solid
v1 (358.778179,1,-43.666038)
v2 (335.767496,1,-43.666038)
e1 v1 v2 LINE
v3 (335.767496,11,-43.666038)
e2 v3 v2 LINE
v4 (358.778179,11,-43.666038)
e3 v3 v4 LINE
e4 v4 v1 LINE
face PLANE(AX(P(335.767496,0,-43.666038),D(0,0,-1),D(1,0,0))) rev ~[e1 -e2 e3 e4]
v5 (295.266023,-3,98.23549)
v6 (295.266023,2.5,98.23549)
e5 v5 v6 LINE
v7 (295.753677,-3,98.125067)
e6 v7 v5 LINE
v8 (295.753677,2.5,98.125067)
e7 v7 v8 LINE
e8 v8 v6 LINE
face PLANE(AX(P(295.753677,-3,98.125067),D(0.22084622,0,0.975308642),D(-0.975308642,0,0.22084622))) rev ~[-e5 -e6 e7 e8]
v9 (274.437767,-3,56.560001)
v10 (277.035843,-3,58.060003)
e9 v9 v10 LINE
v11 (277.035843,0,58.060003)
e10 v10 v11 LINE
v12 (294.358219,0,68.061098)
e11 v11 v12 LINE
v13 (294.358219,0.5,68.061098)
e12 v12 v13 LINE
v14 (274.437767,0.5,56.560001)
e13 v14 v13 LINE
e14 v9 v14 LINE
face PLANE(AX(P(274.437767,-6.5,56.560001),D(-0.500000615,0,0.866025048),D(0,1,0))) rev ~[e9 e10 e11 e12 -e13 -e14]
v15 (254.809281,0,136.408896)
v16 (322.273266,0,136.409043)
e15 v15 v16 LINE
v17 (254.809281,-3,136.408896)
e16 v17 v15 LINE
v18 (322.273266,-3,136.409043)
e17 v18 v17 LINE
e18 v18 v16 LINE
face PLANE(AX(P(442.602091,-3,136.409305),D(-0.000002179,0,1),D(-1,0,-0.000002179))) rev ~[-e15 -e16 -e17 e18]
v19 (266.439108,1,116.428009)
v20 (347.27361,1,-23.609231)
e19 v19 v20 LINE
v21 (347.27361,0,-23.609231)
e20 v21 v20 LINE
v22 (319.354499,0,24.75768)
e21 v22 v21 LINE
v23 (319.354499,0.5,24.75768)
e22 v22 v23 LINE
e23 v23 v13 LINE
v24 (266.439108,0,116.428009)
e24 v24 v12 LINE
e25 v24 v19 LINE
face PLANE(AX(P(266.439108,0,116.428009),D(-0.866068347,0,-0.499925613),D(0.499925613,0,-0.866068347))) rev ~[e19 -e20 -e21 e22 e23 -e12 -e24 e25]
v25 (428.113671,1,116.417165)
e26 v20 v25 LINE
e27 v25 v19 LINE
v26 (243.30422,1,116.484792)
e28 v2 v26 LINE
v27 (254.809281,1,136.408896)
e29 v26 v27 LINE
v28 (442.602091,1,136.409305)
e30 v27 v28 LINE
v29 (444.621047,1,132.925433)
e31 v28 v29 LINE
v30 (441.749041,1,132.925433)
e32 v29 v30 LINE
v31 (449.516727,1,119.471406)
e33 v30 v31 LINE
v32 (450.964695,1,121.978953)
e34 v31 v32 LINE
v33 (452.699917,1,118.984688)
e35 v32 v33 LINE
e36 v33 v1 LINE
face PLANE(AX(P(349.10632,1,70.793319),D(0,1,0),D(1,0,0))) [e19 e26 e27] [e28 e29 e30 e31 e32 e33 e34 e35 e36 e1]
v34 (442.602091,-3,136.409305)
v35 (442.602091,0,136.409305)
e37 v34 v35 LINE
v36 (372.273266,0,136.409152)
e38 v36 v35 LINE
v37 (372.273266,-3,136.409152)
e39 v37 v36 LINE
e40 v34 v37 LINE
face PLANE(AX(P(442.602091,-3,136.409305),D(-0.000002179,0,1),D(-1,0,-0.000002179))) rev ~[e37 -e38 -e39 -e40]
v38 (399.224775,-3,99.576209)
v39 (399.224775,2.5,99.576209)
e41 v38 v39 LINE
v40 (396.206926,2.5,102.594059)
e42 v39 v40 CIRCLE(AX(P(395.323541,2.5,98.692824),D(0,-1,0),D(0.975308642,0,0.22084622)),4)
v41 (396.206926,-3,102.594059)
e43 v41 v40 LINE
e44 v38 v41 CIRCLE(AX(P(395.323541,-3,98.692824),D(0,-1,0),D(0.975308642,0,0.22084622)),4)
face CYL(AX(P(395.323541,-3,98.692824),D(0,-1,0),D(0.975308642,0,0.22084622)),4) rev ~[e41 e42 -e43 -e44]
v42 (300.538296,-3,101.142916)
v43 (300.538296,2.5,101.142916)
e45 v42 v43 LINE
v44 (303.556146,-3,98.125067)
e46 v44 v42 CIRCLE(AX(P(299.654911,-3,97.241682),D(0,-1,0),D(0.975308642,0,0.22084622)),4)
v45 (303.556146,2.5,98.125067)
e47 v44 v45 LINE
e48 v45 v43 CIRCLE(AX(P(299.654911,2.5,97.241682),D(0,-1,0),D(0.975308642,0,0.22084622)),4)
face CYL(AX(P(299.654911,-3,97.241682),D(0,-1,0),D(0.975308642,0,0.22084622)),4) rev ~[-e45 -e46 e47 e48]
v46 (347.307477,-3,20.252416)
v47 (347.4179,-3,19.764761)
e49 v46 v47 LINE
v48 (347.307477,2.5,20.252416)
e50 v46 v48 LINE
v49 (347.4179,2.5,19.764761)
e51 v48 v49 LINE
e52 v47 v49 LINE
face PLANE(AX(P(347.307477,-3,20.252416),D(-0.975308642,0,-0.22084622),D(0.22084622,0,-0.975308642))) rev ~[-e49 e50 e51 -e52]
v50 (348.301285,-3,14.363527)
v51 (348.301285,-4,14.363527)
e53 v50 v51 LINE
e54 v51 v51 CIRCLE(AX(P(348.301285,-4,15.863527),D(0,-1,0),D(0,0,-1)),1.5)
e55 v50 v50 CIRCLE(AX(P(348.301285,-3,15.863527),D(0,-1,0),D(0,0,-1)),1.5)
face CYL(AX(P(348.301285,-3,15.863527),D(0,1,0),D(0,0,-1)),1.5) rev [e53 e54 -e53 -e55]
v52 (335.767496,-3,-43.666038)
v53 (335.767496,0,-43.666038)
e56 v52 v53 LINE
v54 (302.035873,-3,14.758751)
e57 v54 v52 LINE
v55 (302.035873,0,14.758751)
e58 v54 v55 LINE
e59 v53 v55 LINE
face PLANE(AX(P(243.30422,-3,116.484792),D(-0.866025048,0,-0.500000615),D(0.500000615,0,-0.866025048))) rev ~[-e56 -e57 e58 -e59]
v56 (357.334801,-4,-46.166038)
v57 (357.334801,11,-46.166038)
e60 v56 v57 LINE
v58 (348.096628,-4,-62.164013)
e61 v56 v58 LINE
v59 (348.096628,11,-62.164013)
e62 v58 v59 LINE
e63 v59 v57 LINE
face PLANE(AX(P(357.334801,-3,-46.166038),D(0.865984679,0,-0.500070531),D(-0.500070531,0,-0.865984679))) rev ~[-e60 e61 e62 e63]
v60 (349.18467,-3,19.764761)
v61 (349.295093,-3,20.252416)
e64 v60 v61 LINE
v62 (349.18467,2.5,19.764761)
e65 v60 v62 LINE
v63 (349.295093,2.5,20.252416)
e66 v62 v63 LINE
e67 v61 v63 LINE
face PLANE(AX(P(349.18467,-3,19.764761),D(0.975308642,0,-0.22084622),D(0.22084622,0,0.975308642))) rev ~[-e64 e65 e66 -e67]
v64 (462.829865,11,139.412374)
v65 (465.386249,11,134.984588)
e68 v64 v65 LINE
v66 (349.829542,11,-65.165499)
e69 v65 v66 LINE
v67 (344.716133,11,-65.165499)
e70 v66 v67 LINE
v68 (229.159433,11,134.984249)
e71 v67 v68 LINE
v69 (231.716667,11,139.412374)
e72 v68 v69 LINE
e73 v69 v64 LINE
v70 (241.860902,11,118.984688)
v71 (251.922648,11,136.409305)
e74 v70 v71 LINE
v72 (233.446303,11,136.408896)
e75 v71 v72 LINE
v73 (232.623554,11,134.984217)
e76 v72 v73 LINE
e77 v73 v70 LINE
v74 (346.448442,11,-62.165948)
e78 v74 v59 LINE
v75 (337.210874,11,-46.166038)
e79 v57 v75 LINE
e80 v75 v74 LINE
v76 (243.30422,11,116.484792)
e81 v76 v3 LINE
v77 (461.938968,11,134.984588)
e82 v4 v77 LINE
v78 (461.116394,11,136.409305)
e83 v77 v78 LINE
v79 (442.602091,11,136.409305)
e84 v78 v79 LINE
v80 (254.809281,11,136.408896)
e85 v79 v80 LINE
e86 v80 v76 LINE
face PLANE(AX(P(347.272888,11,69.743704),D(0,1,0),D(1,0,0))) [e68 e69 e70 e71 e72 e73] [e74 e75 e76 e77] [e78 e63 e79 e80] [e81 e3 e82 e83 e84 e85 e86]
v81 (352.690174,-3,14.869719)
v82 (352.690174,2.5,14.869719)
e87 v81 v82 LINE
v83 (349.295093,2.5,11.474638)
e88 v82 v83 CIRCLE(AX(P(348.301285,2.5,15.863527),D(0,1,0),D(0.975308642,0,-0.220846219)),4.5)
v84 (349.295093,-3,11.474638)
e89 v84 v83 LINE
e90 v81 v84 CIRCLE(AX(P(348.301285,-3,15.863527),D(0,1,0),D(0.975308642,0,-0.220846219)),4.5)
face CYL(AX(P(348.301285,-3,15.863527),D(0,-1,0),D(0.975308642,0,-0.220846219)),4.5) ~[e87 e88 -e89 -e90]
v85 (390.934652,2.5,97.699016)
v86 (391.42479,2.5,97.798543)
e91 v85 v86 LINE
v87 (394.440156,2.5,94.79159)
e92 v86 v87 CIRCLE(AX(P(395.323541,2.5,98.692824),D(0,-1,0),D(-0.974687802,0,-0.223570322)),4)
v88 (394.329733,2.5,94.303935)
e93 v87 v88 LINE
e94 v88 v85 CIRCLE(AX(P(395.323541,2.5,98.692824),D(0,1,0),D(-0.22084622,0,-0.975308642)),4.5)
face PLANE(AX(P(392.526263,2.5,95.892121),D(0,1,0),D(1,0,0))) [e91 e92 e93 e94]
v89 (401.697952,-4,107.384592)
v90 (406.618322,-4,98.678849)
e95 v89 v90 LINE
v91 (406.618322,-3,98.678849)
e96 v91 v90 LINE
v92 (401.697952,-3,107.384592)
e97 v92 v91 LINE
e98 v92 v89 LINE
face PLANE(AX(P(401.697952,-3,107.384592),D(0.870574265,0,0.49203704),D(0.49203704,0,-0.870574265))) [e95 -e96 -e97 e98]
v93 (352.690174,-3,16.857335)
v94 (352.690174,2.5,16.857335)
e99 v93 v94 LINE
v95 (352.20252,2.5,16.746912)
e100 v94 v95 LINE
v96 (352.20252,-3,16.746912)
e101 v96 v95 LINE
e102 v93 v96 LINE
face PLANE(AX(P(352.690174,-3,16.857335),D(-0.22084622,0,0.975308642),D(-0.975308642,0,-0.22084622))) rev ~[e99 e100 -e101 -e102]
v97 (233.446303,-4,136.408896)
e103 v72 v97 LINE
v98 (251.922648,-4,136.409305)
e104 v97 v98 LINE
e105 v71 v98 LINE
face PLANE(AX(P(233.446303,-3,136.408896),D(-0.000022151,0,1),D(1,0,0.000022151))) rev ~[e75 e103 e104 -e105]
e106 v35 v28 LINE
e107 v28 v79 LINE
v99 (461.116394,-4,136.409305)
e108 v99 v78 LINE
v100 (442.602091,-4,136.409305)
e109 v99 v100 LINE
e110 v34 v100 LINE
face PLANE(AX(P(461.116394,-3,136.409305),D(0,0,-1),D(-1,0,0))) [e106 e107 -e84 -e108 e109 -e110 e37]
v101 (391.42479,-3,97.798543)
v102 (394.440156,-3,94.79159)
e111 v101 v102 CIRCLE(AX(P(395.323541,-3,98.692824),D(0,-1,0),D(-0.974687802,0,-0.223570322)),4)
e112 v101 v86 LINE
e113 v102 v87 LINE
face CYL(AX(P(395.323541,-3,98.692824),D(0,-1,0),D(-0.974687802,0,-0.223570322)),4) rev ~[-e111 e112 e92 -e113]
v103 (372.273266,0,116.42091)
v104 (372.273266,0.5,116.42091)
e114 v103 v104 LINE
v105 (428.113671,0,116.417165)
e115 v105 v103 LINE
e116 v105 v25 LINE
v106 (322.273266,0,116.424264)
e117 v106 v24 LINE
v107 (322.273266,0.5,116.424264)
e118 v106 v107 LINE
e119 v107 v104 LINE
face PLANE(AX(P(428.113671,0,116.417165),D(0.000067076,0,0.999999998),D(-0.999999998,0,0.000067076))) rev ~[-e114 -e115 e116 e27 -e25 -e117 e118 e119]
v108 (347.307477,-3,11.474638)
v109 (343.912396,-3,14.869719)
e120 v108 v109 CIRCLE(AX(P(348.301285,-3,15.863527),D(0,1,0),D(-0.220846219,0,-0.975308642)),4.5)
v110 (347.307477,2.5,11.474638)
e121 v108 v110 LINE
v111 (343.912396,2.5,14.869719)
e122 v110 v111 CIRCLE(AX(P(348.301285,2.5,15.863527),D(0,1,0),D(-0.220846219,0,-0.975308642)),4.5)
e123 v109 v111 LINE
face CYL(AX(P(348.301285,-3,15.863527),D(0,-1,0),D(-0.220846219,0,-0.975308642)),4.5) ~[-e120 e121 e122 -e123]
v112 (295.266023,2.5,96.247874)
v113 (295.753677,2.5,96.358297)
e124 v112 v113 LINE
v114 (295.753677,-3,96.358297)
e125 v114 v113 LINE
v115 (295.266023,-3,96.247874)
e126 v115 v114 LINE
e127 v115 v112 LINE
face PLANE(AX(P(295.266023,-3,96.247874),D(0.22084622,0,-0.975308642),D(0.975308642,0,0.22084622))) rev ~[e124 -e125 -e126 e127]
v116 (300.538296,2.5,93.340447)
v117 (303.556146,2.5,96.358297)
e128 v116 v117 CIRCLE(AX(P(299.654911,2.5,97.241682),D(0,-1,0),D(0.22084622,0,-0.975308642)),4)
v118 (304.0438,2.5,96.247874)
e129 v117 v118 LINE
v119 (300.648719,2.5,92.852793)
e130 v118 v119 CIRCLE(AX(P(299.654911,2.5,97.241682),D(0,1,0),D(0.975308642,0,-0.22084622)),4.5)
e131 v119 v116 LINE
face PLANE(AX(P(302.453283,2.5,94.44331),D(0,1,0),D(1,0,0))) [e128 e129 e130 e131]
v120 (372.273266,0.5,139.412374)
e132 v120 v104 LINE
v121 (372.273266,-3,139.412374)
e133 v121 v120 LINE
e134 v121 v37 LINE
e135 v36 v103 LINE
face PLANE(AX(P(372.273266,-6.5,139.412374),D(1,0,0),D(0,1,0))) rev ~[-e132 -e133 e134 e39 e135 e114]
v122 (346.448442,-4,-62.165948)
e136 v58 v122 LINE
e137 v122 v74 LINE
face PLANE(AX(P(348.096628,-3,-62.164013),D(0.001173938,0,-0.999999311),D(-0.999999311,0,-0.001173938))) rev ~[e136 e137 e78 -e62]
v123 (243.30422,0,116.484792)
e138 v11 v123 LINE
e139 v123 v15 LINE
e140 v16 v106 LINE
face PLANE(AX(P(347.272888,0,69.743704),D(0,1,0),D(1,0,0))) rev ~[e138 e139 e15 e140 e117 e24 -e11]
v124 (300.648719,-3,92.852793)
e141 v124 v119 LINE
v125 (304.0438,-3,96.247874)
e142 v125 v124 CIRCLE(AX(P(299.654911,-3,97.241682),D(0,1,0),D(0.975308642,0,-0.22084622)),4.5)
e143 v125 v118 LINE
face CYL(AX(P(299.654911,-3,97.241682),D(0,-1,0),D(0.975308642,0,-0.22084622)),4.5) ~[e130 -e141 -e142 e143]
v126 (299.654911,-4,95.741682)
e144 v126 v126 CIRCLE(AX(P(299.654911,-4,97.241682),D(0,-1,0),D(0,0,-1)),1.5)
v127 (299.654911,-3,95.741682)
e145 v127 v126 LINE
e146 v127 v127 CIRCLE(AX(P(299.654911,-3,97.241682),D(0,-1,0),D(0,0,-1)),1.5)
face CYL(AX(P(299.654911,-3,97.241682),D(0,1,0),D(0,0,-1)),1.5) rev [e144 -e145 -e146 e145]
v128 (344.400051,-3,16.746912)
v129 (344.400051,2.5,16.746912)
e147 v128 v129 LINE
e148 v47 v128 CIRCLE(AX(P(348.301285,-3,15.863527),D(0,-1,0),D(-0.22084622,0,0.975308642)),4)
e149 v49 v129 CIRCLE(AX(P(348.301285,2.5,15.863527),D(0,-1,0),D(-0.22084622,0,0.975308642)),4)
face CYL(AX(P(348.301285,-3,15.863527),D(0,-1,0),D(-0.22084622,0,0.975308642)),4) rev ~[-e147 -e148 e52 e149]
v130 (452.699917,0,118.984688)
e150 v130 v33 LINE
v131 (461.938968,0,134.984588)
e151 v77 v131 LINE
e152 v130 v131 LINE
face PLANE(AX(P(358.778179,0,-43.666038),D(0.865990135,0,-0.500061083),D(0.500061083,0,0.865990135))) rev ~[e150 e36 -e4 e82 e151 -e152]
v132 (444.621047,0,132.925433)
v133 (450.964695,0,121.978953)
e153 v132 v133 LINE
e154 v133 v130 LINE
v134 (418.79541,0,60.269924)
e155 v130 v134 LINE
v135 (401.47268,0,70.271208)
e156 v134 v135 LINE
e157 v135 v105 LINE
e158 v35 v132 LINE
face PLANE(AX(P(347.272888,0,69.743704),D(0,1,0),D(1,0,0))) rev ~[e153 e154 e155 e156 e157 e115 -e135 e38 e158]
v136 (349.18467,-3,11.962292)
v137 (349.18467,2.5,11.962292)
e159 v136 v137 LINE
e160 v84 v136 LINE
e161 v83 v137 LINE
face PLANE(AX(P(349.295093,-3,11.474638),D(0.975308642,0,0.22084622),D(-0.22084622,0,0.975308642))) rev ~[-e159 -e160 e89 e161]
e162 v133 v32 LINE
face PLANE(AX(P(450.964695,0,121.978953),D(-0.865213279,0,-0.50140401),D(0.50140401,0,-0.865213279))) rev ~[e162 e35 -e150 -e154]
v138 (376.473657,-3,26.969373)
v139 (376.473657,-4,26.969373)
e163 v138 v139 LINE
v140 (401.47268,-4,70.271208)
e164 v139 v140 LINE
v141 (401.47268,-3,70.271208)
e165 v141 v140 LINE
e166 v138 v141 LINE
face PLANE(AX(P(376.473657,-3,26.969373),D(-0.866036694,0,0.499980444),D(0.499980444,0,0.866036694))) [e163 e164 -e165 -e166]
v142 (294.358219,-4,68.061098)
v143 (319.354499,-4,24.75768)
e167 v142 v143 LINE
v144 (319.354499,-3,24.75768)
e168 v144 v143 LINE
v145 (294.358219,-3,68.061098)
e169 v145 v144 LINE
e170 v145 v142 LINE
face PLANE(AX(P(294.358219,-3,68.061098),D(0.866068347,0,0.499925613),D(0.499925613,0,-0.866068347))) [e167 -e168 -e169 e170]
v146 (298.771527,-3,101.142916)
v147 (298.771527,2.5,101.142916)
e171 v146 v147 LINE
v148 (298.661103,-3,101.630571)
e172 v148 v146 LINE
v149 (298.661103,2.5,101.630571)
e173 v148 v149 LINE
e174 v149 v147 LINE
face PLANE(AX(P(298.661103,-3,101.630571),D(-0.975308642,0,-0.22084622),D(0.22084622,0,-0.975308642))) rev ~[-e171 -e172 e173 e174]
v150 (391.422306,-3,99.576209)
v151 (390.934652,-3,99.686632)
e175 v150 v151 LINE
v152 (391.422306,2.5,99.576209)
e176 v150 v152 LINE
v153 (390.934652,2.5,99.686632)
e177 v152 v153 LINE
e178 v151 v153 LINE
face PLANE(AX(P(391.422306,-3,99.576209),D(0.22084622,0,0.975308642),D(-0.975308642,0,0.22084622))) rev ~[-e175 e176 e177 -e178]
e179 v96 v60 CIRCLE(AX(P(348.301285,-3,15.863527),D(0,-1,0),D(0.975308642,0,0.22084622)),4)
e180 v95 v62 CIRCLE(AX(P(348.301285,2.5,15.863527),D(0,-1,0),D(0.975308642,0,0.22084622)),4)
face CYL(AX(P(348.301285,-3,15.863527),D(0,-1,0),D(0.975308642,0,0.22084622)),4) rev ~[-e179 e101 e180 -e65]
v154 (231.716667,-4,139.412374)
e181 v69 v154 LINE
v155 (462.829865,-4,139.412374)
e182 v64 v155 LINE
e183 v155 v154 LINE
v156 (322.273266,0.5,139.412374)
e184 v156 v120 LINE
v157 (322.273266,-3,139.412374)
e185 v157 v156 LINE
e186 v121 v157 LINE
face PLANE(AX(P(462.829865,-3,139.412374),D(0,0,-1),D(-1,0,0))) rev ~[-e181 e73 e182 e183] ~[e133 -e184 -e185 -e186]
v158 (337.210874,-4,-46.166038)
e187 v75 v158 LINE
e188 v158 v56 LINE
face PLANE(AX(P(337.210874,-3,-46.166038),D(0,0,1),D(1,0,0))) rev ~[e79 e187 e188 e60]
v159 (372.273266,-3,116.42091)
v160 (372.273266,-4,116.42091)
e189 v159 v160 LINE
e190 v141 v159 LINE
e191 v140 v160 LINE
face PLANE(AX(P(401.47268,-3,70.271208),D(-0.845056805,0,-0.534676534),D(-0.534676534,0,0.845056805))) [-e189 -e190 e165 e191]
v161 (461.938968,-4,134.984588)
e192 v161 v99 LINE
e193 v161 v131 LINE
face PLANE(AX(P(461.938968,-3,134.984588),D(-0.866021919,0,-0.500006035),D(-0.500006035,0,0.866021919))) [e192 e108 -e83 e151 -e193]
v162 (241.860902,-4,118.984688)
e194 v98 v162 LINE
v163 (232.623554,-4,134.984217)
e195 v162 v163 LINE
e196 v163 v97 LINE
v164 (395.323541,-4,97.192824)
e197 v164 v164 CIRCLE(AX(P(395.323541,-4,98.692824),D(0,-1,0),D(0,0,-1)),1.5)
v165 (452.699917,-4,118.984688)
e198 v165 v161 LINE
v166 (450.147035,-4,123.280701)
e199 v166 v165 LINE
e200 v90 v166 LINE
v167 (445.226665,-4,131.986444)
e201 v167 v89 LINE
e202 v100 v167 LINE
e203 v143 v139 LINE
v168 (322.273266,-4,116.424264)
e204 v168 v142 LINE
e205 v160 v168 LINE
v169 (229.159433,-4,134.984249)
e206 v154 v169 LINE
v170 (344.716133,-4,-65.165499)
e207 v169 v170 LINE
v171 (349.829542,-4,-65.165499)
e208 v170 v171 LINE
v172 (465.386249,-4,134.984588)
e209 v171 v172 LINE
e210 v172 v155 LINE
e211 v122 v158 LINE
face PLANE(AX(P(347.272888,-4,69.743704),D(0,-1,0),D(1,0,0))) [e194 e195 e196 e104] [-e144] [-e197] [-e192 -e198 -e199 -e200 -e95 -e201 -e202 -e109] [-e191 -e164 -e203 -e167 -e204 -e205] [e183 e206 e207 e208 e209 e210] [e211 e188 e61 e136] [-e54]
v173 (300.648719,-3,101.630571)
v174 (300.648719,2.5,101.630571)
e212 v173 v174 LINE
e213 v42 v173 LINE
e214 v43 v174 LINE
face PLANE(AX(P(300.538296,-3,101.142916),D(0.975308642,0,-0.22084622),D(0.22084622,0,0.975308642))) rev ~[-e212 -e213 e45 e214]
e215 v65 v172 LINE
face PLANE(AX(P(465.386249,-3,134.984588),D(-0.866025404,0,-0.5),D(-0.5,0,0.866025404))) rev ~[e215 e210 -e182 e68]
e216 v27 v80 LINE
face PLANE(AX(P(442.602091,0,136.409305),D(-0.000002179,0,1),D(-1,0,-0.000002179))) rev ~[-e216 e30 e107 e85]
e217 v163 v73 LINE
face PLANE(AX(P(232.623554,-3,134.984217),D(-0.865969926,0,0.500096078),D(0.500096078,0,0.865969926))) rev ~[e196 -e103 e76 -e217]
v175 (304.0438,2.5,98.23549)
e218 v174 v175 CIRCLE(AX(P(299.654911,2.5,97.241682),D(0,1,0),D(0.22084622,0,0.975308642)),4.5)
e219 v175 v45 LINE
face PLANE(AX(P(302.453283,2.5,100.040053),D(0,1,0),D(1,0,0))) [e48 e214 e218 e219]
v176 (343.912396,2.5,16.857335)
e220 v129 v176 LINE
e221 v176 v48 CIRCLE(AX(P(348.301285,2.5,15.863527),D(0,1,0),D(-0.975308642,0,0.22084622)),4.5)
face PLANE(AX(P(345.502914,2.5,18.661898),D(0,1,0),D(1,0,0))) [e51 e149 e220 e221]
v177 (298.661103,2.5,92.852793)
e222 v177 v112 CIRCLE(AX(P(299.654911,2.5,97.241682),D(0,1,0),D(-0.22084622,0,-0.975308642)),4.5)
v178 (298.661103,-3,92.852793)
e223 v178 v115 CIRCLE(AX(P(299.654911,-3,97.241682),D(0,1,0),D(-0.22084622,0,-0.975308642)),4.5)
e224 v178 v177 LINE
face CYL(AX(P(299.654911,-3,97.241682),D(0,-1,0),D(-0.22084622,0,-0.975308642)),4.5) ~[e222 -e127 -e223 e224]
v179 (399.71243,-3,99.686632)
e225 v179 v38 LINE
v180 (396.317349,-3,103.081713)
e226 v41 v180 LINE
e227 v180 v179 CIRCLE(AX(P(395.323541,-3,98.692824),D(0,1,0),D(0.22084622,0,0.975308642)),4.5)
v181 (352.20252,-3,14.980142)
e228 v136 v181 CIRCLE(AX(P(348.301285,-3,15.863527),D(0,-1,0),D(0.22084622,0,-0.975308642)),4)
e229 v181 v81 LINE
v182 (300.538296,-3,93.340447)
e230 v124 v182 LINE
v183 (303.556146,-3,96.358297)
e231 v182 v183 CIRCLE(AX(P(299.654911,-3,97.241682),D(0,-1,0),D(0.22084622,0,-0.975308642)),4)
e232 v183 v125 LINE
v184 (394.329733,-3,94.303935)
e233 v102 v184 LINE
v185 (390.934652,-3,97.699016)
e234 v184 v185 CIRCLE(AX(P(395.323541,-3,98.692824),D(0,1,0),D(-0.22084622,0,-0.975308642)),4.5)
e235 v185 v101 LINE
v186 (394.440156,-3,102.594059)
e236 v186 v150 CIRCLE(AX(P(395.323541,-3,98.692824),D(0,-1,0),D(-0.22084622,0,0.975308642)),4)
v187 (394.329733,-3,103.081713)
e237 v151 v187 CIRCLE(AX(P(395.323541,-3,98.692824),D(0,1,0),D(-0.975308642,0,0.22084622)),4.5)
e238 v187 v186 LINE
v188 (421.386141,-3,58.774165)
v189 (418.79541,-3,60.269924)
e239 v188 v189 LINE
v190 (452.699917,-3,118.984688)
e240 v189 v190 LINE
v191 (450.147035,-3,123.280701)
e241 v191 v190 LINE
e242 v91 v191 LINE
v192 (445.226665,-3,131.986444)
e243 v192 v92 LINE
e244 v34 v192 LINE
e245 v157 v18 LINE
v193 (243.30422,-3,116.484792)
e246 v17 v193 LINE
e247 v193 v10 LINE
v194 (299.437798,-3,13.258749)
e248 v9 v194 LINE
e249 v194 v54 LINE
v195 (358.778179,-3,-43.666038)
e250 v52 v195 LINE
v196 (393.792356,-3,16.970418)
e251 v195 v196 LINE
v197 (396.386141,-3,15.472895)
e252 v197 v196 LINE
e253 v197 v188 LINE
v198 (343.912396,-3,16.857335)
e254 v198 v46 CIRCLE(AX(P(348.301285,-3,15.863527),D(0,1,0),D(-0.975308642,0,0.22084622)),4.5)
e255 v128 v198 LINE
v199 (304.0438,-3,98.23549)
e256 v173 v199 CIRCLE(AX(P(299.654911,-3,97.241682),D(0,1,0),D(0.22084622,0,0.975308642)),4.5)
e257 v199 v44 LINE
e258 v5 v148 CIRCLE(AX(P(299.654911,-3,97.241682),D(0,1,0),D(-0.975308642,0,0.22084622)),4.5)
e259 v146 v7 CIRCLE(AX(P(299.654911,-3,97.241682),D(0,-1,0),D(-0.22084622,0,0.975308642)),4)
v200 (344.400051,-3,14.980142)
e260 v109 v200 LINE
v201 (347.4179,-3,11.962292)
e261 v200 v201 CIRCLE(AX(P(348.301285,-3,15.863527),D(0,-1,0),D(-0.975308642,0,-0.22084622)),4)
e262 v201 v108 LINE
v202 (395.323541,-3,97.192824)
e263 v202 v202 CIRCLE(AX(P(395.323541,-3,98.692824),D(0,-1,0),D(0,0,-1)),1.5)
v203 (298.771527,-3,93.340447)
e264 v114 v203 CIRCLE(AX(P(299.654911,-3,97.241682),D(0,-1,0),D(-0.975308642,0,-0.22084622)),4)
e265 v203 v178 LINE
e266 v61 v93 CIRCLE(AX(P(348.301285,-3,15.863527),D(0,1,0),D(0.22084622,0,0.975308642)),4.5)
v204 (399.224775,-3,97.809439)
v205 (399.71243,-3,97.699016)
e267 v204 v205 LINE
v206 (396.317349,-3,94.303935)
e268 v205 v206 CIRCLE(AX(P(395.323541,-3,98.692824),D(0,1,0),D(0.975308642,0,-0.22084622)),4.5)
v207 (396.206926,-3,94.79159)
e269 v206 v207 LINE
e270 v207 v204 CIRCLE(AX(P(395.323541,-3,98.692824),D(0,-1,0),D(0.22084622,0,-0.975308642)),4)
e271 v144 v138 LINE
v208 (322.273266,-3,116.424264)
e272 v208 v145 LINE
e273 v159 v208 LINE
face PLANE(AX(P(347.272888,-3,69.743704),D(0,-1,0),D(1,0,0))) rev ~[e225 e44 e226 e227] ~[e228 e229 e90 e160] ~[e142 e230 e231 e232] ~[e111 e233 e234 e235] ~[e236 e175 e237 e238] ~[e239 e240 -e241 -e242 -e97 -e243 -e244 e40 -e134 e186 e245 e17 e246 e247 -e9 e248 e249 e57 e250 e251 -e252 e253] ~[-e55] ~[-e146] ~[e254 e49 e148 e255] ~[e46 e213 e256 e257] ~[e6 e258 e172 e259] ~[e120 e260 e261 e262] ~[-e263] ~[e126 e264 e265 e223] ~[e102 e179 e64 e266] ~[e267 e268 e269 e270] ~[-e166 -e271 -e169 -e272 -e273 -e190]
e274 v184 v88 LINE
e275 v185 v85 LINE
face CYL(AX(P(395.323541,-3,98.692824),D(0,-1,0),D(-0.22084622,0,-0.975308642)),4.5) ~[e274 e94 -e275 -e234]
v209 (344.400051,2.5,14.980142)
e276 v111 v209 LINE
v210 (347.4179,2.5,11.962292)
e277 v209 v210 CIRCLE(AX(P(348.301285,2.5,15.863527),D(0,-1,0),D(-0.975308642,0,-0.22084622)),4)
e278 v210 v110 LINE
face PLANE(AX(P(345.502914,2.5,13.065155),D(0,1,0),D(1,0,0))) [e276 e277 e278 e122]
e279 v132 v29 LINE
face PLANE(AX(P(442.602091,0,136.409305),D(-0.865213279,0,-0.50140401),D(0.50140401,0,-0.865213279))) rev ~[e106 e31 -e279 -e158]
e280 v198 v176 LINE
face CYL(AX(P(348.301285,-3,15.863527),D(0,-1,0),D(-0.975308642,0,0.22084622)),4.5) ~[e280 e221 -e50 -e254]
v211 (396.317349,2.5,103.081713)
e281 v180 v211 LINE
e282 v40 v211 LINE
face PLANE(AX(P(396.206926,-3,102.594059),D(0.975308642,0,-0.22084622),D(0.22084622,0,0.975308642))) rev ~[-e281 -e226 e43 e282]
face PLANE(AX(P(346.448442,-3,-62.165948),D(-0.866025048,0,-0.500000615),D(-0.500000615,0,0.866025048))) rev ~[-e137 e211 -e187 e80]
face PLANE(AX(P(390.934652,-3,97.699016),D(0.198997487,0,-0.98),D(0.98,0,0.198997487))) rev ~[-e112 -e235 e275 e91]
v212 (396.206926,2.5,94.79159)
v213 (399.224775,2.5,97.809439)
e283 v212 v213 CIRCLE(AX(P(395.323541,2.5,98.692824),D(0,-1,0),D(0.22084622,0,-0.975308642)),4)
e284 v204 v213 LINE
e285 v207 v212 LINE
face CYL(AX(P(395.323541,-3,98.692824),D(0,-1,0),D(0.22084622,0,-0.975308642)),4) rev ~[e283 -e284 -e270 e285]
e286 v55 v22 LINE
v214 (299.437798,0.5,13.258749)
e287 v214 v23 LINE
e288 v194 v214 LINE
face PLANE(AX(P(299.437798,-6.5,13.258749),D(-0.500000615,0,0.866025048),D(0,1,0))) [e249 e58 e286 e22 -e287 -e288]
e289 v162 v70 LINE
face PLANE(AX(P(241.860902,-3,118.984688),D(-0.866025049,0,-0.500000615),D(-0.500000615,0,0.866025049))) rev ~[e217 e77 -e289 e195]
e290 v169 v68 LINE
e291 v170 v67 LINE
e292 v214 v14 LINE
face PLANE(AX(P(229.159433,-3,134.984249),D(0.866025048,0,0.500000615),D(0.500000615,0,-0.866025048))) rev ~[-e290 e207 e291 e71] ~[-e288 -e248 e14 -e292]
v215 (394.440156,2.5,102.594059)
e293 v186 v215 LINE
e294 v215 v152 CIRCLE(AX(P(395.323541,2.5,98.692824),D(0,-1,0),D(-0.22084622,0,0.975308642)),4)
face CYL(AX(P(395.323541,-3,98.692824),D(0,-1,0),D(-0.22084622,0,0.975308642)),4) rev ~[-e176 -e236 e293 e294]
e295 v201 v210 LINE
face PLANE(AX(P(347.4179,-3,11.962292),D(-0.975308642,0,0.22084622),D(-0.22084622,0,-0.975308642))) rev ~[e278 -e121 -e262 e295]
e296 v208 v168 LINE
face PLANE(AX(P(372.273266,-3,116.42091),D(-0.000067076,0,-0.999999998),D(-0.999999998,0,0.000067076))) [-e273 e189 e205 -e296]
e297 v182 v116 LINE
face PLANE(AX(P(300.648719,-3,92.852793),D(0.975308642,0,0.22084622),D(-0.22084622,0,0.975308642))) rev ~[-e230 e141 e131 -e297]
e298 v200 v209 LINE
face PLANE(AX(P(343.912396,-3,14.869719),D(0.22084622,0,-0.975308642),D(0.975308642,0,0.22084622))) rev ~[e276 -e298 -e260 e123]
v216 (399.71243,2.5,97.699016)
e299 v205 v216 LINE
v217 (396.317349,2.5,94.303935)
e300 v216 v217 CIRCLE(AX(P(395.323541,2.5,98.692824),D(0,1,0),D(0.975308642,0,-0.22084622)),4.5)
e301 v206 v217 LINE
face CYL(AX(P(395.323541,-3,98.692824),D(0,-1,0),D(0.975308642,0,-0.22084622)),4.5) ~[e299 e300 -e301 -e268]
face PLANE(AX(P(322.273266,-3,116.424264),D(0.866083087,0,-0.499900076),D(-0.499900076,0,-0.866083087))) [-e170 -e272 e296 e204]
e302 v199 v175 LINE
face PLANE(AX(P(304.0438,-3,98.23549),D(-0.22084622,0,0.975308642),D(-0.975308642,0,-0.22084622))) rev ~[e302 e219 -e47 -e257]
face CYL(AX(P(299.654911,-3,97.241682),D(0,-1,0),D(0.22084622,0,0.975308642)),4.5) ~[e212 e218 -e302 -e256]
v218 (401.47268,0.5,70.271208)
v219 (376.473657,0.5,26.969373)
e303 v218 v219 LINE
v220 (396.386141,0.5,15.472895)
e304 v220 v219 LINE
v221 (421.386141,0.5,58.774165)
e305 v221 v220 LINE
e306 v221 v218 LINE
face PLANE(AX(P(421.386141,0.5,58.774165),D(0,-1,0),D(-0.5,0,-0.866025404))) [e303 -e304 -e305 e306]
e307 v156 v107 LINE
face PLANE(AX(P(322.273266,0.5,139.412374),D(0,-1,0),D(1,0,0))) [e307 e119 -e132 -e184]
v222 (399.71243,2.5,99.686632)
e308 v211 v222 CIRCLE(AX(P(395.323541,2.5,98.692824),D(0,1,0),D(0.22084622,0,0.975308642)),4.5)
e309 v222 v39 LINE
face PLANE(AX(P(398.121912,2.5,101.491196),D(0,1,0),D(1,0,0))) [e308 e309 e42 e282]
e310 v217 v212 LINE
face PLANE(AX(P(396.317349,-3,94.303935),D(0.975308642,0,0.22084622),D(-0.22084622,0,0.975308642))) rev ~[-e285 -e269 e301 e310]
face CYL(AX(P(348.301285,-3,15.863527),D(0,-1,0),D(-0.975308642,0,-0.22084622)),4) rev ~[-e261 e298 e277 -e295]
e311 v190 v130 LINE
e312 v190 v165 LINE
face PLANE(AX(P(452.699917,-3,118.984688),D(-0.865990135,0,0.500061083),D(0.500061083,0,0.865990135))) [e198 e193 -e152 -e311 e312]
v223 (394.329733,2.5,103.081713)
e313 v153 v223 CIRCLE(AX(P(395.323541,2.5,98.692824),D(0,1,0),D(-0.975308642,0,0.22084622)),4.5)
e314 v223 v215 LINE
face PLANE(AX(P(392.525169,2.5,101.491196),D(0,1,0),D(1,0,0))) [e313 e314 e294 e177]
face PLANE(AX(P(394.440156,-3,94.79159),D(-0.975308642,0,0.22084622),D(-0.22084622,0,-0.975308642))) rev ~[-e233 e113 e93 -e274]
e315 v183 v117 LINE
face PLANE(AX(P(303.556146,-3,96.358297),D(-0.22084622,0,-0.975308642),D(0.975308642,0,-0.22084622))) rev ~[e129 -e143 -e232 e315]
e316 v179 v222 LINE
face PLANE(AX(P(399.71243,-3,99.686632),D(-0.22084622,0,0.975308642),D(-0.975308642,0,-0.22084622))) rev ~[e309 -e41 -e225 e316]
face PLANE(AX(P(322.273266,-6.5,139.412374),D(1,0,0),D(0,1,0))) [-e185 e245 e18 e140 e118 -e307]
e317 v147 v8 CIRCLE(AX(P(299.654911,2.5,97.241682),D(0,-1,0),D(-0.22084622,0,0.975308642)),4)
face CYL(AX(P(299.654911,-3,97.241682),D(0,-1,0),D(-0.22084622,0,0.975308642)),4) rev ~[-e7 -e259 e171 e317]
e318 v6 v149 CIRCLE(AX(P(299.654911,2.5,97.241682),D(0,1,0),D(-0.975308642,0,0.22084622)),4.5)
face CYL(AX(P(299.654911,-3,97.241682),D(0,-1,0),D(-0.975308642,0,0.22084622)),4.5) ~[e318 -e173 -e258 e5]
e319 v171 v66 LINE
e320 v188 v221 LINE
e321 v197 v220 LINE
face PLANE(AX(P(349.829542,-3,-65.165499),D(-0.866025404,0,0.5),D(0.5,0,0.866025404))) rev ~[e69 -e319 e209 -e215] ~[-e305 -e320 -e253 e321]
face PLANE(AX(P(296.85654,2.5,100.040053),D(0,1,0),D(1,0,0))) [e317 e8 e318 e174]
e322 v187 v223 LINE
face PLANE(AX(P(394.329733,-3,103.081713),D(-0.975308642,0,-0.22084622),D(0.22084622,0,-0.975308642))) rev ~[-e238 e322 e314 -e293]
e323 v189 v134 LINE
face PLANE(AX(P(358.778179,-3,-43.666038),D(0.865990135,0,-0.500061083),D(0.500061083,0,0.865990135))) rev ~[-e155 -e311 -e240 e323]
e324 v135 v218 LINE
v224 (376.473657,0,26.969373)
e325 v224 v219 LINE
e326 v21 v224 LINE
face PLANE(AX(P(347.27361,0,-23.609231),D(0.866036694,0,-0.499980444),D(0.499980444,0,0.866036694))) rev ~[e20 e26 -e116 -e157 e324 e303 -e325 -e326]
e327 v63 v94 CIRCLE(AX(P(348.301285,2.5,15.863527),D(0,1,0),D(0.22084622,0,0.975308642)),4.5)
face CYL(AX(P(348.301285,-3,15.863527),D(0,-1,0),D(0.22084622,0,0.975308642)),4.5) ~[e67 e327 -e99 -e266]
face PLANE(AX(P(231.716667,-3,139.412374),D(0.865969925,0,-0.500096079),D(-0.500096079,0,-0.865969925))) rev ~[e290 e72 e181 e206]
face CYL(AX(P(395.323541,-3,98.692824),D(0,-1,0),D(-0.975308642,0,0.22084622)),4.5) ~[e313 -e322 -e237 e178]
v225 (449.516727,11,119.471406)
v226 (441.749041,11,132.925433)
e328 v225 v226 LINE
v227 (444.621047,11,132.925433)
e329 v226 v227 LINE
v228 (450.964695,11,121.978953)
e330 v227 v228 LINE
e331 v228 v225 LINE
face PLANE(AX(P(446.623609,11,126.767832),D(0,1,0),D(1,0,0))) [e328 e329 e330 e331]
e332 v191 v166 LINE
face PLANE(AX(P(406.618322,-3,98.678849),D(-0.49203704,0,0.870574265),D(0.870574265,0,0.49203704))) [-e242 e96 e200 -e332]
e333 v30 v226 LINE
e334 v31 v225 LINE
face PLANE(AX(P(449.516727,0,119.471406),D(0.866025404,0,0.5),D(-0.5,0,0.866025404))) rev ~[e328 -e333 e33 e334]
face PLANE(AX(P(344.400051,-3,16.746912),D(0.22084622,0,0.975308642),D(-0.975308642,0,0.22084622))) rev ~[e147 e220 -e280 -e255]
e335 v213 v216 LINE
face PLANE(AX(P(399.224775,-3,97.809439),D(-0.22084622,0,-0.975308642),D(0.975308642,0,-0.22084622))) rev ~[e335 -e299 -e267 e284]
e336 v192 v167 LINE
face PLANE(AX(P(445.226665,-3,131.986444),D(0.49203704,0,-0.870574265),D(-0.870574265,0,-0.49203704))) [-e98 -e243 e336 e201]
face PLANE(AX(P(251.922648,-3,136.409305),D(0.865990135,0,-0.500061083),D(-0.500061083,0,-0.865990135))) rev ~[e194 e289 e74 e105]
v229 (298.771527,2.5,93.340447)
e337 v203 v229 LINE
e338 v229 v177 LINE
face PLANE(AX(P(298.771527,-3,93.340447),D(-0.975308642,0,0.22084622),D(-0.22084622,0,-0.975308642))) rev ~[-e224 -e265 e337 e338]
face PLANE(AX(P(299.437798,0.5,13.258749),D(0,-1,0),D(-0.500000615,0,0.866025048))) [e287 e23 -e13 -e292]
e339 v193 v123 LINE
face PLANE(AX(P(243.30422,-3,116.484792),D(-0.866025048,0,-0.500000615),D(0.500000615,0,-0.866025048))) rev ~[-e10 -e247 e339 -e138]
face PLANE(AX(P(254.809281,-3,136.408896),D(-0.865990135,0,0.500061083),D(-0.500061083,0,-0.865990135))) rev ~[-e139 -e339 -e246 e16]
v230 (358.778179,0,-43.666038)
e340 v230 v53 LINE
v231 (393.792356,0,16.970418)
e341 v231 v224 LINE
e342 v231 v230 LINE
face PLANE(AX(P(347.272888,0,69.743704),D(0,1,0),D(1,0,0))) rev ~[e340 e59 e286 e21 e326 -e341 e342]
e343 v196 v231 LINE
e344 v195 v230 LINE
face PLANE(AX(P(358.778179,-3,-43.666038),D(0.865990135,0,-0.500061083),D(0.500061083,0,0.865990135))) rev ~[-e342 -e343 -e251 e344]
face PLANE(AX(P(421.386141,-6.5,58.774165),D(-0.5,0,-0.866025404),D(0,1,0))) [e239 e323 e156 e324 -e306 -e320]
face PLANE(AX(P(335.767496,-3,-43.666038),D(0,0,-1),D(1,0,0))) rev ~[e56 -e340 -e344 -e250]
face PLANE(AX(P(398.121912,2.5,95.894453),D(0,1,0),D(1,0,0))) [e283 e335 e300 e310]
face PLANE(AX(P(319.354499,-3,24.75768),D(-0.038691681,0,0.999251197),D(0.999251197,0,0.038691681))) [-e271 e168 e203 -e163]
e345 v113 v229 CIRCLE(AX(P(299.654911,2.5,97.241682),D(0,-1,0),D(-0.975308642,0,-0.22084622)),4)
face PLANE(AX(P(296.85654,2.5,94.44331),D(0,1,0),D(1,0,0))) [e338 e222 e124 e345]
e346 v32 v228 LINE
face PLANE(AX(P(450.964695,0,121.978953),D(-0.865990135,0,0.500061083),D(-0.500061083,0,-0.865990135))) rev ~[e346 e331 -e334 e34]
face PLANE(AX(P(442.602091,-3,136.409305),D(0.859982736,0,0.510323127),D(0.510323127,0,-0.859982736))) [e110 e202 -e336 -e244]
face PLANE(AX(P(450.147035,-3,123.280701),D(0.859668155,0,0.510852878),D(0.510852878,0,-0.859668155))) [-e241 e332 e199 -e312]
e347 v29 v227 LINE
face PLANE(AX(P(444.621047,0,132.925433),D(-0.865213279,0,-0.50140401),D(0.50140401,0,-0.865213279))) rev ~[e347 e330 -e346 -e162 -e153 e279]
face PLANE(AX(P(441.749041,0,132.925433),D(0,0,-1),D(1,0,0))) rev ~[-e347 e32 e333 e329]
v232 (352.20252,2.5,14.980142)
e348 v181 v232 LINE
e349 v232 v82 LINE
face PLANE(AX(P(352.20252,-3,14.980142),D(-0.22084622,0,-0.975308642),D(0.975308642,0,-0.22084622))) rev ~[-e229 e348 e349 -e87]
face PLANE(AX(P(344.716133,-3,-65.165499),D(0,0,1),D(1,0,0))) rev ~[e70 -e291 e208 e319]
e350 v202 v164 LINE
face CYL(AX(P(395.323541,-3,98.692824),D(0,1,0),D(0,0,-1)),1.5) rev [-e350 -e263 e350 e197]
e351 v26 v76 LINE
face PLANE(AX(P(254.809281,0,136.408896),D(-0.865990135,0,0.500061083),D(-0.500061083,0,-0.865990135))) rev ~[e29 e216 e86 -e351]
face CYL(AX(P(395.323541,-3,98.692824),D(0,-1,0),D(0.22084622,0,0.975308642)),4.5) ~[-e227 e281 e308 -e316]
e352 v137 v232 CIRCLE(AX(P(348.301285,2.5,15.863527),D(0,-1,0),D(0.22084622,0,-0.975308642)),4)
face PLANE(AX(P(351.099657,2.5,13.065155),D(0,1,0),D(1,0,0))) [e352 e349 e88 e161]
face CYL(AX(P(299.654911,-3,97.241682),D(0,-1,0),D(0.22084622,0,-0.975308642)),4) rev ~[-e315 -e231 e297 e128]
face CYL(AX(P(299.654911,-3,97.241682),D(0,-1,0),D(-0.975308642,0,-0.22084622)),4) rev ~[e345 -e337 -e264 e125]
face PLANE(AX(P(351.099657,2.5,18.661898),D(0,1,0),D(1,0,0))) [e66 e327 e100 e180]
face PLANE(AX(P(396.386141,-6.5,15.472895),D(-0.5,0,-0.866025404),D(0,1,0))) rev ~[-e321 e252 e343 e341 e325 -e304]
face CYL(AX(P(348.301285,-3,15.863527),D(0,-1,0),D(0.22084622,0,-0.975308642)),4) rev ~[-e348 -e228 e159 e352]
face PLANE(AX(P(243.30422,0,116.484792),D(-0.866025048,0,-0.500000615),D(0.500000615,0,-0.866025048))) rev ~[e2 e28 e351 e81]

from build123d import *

# Parameters (mm, degrees)
BOSS_EXTRUDE1_DEPTH      = 1
BOSS_EXTRUDE2_DEPTH      = 11
BOSS_EXTRUDE3_DEPTH      = 5
BOSS_EXTRUDE3_DEPTH_BACK = 3
SKETCH3_W                = 50
SKETCH3_H                = 7
CUT_EXTRUDE3_DEPTH       = 25
SKETCH5_W                = 50
SKETCH5_H                = 7
CUT_EXTRUDE4_DEPTH       = 25
SKETCH6_W                = 50
SKETCH6_H                = 7
CUT_EXTRUDE5_DEPTH       = 25
SKETCH8_R                = 1.5
BOSS_EXTRUDE5_DEPTH      = 1
BOSS_EXTRUDE10_DEPTH     = 5.5


with BuildPart() as part:
    # Sketch1 → Boss-Extrude1 (new body)
    with BuildSketch(Plane(origin=(0, 0, 0), x_dir=(1, 0, 0), z_dir=(0, 1, 0))):
        Polygon((243.304219773, -116.484791866), (254.809280576, -136.408896139), (442.602090749, -136.409305398), (444.621046679, -132.925433223), (441.749040748, -132.925433223), (449.516726723, -119.471406457), (450.964695297, -121.978953122), (452.699916621, -118.984688017), (358.778179035, 43.666038066), (335.767496284, 43.666038066), align=None)
        Polygon((428.113670919, -116.417164681), (266.439108268, -116.428009241), (347.273609729, 23.609230825), align=None, mode=Mode.SUBTRACT)
    extrude(amount=BOSS_EXTRUDE1_DEPTH)

    # Sketch1<9> → Boss-Extrude2 (add)
    # profile 1 of 2: a face of its own
    with BuildSketch(Plane(origin=(0, 0, 0), x_dir=(1, 0, 0), z_dir=(0, 1, 0))):
        Polygon((229.159432547, -134.984249184), (231.716666588, -139.412373829), (462.829865412, -139.412373829), (465.38624875, -134.984588004), (349.829542096, 65.165499075), (344.716133219, 65.165499075), align=None)
        Polygon((251.922647988, -136.4093054), (233.446303399, -136.408896139), (232.623553959, -134.984217358), (241.860901688, -118.984688019), align=None, mode=Mode.SUBTRACT)
        Polygon((442.602090749, -136.409305398), (254.809280576, -136.408896139), (243.304219773, -116.484791866), (335.767496284, 43.666038066), (358.778179035, 43.666038066), (461.938967957, -134.984588004), (461.116393748, -136.409305398), align=None, mode=Mode.SUBTRACT)
        Polygon((348.096628302, 62.164013367), (357.334800991, 46.166038067), (337.210874326, 46.166038067), (346.44844193, 62.165948237), align=None, mode=Mode.SUBTRACT)
    # profile 2 of 2: a face of its own
    with BuildSketch(Plane(origin=(0, 0, 0), x_dir=(1, 0, 0), z_dir=(0, 1, 0))):
        Polygon((441.749040748, -132.925433223), (444.621046679, -132.925433223), (450.964695297, -121.978953122), (449.516726723, -119.471406457), align=None)
    extrude(amount=BOSS_EXTRUDE2_DEPTH)

    # Sketch1<10> → Boss-Extrude3 (add, two sides: drawn at the far end of the back side and taken through both)
    with BuildSketch(Plane(origin=(0, 0, 0), x_dir=(1, 0, 0), z_dir=(0, 1, 0)).offset(-BOSS_EXTRUDE3_DEPTH_BACK)):
        Polygon((229.159432547, -134.984249184), (231.716666588, -139.412373829), (462.829865412, -139.412373829), (465.38624875, -134.984588004), (349.829542096, 65.165499075), (344.716133219, 65.165499075), align=None)
        Polygon((251.922647988, -136.4093054), (233.446303399, -136.408896139), (232.623553959, -134.984217358), (241.860901688, -118.984688019), align=None, mode=Mode.SUBTRACT)
        Polygon((442.602090749, -136.409305398), (254.809280576, -136.408896139), (243.304219773, -116.484791866), (335.767496284, 43.666038066), (358.778179035, 43.666038066), (452.699916621, -118.984688017), (461.938967957, -134.984588004), (461.116393748, -136.409305398), align=None, mode=Mode.SUBTRACT)
        Polygon((348.096628302, 62.164013367), (357.334800991, 46.166038067), (337.210874326, 46.166038067), (346.44844193, 62.165948237), align=None, mode=Mode.SUBTRACT)
    extrude(amount=BOSS_EXTRUDE3_DEPTH + BOSS_EXTRUDE3_DEPTH_BACK)

    # Sketch3 → Cut-Extrude3 (cut)
    with BuildSketch(Plane(origin=(290.589645397, 0, -167.772009994), x_dir=(-0.49999999999998745, 0, -0.8660254037844459), z_dir=(0.8660254037844459, 0, -0.49999999999998745))):
        with Locations((-236.592990632, -3)):
            Rectangle(SKETCH3_W, SKETCH3_H)
    extrude(amount=-CUT_EXTRUDE3_DEPTH, mode=Mode.SUBTRACT)

    # Sketch5 → Cut-Extrude4 (cut)
    with BuildSketch(Plane.XY.offset(139.412373829)):
        with Locations((347.273266, -3)):
            Rectangle(SKETCH5_W, SKETCH5_H)
    extrude(amount=-CUT_EXTRUDE4_DEPTH, mode=Mode.SUBTRACT)

    # Sketch6 → Cut-Extrude5 (cut)
    with BuildSketch(Plane(origin=(230.319375797, 0, 132.975171838), x_dir=(-0.5000006154012504, 0, 0.8660250484820695), z_dir=(-0.8660250484820695, 0, -0.5000006154012504))):
        with Locations((-113.2366748, -3)):
            Rectangle(SKETCH6_W, SKETCH6_H)
    extrude(amount=-CUT_EXTRUDE5_DEPTH, mode=Mode.SUBTRACT)

    # Sketch8 → Boss-Extrude5 (add)
    with BuildSketch(Plane.XZ.offset(3)):
        Polygon((349.829542096, -65.165499075), (465.38624875, 134.984588004), (462.829865412, 139.412373829), (231.716666588, 139.412373829), (229.159432547, 134.984249184), (344.716133219, -65.165499075), align=None)
        with Locations((395.323540807, 98.692824234)):
            Circle(SKETCH8_R, mode=Mode.SUBTRACT)
        with Locations((348.301285092, 15.863526629)):
            Circle(SKETCH8_R, mode=Mode.SUBTRACT)
        with Locations((299.654911442, 97.241681781)):
            Circle(SKETCH8_R, mode=Mode.SUBTRACT)
        Polygon((450.14703547, 123.280701064), (452.699916621, 118.984688017), (461.938967957, 134.984588004), (461.116393748, 136.409305398), (442.602090749, 136.409305398), (445.226665069, 131.986443715), (401.697951811, 107.384591709), (406.618322212, 98.678849058), align=None, mode=Mode.SUBTRACT)
        Polygon((322.273266, 116.424264082), (294.358218631, 68.061097964), (319.354499366, 24.757680453), (376.473657317, 26.969372805), (401.47267951, 70.271207531), (372.273266, 116.420910258), align=None, mode=Mode.SUBTRACT)
        Polygon((233.446303399, 136.408896139), (251.922647988, 136.4093054), (241.860901688, 118.984688019), (232.623553959, 134.984217358), align=None, mode=Mode.SUBTRACT)
        Polygon((337.210874326, -46.166038067), (357.334800991, -46.166038067), (348.096628302, -62.164013367), (346.44844193, -62.165948237), align=None, mode=Mode.SUBTRACT)
    extrude(amount=BOSS_EXTRUDE5_DEPTH)

    # Sketch12 → Boss-Extrude10 (add)
    with BuildSketch(Plane(origin=(0, -3, 0), x_dir=(1, 0, 0), z_dir=(0, 1, 0))):
        with BuildLine():
            ThreePointArc((352.69017398, -14.869718639), (351.483265607, -12.681546113), (349.295093082, -11.47463774))
            Line((349.295093082, -11.47463774), (349.184669972, -11.962292061))
            ThreePointArc((349.184669972, -11.962292061), (351.129712216, -13.035099504), (352.202519659, -14.980141749))
            Line((352.202519659, -14.980141749), (352.69017398, -14.869718639))
        make_face()
        with BuildLine():
            Line((347.417900212, -11.962292061), (347.307477102, -11.47463774))
            ThreePointArc((347.307477102, -11.47463774), (345.119304576, -12.681546113), (343.912396203, -14.869718639))
            Line((343.912396203, -14.869718639), (344.400050524, -14.980141749))
            ThreePointArc((344.400050524, -14.980141749), (345.472857967, -13.035099504), (347.417900212, -11.962292061))
        make_face()
        with BuildLine():
            ThreePointArc((349.295093082, -20.252415518), (351.483265607, -19.045507144), (352.69017398, -16.857334619))
            Line((352.69017398, -16.857334619), (352.202519659, -16.746911509))
            ThreePointArc((352.202519659, -16.746911509), (351.129712216, -18.691953754), (349.184669972, -19.764761197))
            Line((349.184669972, -19.764761197), (349.295093082, -20.252415518))
        make_face()
        with BuildLine():
            Line((344.400050524, -16.746911509), (343.912396203, -16.857334619))
            ThreePointArc((343.912396203, -16.857334619), (345.119304576, -19.045507144), (347.307477102, -20.252415518))
            Line((347.307477102, -20.252415518), (347.417900212, -19.764761197))
            ThreePointArc((347.417900212, -19.764761197), (345.472857967, -18.691953754), (344.400050524, -16.746911509))
        make_face()
        with BuildLine():
            Line((394.440155927, -94.791589666), (394.329732817, -94.303935345))
            ThreePointArc((394.329732817, -94.303935345), (392.141560292, -95.510843719), (390.934651919, -97.699016244))
            Line((390.934651919, -97.699016244), (391.4247896, -97.798542945))
            ThreePointArc((391.4247896, -97.798542945), (392.499067689, -95.860448622), (394.440155927, -94.791589666))
        make_face()
        with BuildLine():
            ThreePointArc((399.712429696, -97.699016244), (398.505521323, -95.510843719), (396.317348797, -94.303935345))
            Line((396.317348797, -94.303935345), (396.206925687, -94.791589666))
            ThreePointArc((396.206925687, -94.791589666), (398.151967932, -95.864397109), (399.224775375, -97.809439354))
            Line((399.224775375, -97.809439354), (399.712429696, -97.699016244))
        make_face()
        with BuildLine():
            Line((391.422306239, -99.576209114), (390.934651919, -99.686632224))
            ThreePointArc((390.934651919, -99.686632224), (392.141560292, -101.874804749), (394.329732817, -103.081713123))
            Line((394.329732817, -103.081713123), (394.440155927, -102.594058802))
            ThreePointArc((394.440155927, -102.594058802), (392.495113683, -101.521251359), (391.422306239, -99.576209114))
        make_face()
        with BuildLine():
            ThreePointArc((396.317348797, -103.081713123), (398.505521323, -101.874804749), (399.712429696, -99.686632224))
            Line((399.712429696, -99.686632224), (399.224775375, -99.576209114))
            ThreePointArc((399.224775375, -99.576209114), (398.151967932, -101.521251359), (396.206925687, -102.594058802))
            Line((396.206925687, -102.594058802), (396.317348797, -103.081713123))
        make_face()
        with BuildLine():
            ThreePointArc((298.661103452, -92.852792892), (296.472930927, -94.059701266), (295.266022553, -96.247873791))
            Line((295.266022553, -96.247873791), (295.753676874, -96.358296901))
            ThreePointArc((295.753676874, -96.358296901), (296.826484317, -94.413254657), (298.771526562, -93.340447213))
            Line((298.771526562, -93.340447213), (298.661103452, -92.852792892))
        make_face()
        with BuildLine():
            Line((295.753676874, -98.125066661), (295.266022553, -98.235489771))
            ThreePointArc((295.266022553, -98.235489771), (296.472930927, -100.423662297), (298.661103452, -101.63057067))
            Line((298.661103452, -101.63057067), (298.771526562, -101.142916349))
            ThreePointArc((298.771526562, -101.142916349), (296.826484317, -100.070108906), (295.753676874, -98.125066661))
        make_face()
        with BuildLine():
            ThreePointArc((304.043800331, -96.247873791), (302.836891957, -94.059701266), (300.648719432, -92.852792892))
            Line((300.648719432, -92.852792892), (300.538296322, -93.340447213))
            ThreePointArc((300.538296322, -93.340447213), (302.483338567, -94.413254657), (303.55614601, -96.358296901))
            Line((303.55614601, -96.358296901), (304.043800331, -96.247873791))
        make_face()
        with BuildLine():
            Line((300.538296322, -101.142916349), (300.648719432, -101.63057067))
            ThreePointArc((300.648719432, -101.63057067), (302.836891957, -100.423662297), (304.043800331, -98.235489771))
            Line((304.043800331, -98.235489771), (303.55614601, -98.125066661))
            ThreePointArc((303.55614601, -98.125066661), (302.483338567, -100.070108906), (300.538296322, -101.142916349))
        make_face()
    extrude(amount=BOSS_EXTRUDE10_DEPTH)


solid = part.part
